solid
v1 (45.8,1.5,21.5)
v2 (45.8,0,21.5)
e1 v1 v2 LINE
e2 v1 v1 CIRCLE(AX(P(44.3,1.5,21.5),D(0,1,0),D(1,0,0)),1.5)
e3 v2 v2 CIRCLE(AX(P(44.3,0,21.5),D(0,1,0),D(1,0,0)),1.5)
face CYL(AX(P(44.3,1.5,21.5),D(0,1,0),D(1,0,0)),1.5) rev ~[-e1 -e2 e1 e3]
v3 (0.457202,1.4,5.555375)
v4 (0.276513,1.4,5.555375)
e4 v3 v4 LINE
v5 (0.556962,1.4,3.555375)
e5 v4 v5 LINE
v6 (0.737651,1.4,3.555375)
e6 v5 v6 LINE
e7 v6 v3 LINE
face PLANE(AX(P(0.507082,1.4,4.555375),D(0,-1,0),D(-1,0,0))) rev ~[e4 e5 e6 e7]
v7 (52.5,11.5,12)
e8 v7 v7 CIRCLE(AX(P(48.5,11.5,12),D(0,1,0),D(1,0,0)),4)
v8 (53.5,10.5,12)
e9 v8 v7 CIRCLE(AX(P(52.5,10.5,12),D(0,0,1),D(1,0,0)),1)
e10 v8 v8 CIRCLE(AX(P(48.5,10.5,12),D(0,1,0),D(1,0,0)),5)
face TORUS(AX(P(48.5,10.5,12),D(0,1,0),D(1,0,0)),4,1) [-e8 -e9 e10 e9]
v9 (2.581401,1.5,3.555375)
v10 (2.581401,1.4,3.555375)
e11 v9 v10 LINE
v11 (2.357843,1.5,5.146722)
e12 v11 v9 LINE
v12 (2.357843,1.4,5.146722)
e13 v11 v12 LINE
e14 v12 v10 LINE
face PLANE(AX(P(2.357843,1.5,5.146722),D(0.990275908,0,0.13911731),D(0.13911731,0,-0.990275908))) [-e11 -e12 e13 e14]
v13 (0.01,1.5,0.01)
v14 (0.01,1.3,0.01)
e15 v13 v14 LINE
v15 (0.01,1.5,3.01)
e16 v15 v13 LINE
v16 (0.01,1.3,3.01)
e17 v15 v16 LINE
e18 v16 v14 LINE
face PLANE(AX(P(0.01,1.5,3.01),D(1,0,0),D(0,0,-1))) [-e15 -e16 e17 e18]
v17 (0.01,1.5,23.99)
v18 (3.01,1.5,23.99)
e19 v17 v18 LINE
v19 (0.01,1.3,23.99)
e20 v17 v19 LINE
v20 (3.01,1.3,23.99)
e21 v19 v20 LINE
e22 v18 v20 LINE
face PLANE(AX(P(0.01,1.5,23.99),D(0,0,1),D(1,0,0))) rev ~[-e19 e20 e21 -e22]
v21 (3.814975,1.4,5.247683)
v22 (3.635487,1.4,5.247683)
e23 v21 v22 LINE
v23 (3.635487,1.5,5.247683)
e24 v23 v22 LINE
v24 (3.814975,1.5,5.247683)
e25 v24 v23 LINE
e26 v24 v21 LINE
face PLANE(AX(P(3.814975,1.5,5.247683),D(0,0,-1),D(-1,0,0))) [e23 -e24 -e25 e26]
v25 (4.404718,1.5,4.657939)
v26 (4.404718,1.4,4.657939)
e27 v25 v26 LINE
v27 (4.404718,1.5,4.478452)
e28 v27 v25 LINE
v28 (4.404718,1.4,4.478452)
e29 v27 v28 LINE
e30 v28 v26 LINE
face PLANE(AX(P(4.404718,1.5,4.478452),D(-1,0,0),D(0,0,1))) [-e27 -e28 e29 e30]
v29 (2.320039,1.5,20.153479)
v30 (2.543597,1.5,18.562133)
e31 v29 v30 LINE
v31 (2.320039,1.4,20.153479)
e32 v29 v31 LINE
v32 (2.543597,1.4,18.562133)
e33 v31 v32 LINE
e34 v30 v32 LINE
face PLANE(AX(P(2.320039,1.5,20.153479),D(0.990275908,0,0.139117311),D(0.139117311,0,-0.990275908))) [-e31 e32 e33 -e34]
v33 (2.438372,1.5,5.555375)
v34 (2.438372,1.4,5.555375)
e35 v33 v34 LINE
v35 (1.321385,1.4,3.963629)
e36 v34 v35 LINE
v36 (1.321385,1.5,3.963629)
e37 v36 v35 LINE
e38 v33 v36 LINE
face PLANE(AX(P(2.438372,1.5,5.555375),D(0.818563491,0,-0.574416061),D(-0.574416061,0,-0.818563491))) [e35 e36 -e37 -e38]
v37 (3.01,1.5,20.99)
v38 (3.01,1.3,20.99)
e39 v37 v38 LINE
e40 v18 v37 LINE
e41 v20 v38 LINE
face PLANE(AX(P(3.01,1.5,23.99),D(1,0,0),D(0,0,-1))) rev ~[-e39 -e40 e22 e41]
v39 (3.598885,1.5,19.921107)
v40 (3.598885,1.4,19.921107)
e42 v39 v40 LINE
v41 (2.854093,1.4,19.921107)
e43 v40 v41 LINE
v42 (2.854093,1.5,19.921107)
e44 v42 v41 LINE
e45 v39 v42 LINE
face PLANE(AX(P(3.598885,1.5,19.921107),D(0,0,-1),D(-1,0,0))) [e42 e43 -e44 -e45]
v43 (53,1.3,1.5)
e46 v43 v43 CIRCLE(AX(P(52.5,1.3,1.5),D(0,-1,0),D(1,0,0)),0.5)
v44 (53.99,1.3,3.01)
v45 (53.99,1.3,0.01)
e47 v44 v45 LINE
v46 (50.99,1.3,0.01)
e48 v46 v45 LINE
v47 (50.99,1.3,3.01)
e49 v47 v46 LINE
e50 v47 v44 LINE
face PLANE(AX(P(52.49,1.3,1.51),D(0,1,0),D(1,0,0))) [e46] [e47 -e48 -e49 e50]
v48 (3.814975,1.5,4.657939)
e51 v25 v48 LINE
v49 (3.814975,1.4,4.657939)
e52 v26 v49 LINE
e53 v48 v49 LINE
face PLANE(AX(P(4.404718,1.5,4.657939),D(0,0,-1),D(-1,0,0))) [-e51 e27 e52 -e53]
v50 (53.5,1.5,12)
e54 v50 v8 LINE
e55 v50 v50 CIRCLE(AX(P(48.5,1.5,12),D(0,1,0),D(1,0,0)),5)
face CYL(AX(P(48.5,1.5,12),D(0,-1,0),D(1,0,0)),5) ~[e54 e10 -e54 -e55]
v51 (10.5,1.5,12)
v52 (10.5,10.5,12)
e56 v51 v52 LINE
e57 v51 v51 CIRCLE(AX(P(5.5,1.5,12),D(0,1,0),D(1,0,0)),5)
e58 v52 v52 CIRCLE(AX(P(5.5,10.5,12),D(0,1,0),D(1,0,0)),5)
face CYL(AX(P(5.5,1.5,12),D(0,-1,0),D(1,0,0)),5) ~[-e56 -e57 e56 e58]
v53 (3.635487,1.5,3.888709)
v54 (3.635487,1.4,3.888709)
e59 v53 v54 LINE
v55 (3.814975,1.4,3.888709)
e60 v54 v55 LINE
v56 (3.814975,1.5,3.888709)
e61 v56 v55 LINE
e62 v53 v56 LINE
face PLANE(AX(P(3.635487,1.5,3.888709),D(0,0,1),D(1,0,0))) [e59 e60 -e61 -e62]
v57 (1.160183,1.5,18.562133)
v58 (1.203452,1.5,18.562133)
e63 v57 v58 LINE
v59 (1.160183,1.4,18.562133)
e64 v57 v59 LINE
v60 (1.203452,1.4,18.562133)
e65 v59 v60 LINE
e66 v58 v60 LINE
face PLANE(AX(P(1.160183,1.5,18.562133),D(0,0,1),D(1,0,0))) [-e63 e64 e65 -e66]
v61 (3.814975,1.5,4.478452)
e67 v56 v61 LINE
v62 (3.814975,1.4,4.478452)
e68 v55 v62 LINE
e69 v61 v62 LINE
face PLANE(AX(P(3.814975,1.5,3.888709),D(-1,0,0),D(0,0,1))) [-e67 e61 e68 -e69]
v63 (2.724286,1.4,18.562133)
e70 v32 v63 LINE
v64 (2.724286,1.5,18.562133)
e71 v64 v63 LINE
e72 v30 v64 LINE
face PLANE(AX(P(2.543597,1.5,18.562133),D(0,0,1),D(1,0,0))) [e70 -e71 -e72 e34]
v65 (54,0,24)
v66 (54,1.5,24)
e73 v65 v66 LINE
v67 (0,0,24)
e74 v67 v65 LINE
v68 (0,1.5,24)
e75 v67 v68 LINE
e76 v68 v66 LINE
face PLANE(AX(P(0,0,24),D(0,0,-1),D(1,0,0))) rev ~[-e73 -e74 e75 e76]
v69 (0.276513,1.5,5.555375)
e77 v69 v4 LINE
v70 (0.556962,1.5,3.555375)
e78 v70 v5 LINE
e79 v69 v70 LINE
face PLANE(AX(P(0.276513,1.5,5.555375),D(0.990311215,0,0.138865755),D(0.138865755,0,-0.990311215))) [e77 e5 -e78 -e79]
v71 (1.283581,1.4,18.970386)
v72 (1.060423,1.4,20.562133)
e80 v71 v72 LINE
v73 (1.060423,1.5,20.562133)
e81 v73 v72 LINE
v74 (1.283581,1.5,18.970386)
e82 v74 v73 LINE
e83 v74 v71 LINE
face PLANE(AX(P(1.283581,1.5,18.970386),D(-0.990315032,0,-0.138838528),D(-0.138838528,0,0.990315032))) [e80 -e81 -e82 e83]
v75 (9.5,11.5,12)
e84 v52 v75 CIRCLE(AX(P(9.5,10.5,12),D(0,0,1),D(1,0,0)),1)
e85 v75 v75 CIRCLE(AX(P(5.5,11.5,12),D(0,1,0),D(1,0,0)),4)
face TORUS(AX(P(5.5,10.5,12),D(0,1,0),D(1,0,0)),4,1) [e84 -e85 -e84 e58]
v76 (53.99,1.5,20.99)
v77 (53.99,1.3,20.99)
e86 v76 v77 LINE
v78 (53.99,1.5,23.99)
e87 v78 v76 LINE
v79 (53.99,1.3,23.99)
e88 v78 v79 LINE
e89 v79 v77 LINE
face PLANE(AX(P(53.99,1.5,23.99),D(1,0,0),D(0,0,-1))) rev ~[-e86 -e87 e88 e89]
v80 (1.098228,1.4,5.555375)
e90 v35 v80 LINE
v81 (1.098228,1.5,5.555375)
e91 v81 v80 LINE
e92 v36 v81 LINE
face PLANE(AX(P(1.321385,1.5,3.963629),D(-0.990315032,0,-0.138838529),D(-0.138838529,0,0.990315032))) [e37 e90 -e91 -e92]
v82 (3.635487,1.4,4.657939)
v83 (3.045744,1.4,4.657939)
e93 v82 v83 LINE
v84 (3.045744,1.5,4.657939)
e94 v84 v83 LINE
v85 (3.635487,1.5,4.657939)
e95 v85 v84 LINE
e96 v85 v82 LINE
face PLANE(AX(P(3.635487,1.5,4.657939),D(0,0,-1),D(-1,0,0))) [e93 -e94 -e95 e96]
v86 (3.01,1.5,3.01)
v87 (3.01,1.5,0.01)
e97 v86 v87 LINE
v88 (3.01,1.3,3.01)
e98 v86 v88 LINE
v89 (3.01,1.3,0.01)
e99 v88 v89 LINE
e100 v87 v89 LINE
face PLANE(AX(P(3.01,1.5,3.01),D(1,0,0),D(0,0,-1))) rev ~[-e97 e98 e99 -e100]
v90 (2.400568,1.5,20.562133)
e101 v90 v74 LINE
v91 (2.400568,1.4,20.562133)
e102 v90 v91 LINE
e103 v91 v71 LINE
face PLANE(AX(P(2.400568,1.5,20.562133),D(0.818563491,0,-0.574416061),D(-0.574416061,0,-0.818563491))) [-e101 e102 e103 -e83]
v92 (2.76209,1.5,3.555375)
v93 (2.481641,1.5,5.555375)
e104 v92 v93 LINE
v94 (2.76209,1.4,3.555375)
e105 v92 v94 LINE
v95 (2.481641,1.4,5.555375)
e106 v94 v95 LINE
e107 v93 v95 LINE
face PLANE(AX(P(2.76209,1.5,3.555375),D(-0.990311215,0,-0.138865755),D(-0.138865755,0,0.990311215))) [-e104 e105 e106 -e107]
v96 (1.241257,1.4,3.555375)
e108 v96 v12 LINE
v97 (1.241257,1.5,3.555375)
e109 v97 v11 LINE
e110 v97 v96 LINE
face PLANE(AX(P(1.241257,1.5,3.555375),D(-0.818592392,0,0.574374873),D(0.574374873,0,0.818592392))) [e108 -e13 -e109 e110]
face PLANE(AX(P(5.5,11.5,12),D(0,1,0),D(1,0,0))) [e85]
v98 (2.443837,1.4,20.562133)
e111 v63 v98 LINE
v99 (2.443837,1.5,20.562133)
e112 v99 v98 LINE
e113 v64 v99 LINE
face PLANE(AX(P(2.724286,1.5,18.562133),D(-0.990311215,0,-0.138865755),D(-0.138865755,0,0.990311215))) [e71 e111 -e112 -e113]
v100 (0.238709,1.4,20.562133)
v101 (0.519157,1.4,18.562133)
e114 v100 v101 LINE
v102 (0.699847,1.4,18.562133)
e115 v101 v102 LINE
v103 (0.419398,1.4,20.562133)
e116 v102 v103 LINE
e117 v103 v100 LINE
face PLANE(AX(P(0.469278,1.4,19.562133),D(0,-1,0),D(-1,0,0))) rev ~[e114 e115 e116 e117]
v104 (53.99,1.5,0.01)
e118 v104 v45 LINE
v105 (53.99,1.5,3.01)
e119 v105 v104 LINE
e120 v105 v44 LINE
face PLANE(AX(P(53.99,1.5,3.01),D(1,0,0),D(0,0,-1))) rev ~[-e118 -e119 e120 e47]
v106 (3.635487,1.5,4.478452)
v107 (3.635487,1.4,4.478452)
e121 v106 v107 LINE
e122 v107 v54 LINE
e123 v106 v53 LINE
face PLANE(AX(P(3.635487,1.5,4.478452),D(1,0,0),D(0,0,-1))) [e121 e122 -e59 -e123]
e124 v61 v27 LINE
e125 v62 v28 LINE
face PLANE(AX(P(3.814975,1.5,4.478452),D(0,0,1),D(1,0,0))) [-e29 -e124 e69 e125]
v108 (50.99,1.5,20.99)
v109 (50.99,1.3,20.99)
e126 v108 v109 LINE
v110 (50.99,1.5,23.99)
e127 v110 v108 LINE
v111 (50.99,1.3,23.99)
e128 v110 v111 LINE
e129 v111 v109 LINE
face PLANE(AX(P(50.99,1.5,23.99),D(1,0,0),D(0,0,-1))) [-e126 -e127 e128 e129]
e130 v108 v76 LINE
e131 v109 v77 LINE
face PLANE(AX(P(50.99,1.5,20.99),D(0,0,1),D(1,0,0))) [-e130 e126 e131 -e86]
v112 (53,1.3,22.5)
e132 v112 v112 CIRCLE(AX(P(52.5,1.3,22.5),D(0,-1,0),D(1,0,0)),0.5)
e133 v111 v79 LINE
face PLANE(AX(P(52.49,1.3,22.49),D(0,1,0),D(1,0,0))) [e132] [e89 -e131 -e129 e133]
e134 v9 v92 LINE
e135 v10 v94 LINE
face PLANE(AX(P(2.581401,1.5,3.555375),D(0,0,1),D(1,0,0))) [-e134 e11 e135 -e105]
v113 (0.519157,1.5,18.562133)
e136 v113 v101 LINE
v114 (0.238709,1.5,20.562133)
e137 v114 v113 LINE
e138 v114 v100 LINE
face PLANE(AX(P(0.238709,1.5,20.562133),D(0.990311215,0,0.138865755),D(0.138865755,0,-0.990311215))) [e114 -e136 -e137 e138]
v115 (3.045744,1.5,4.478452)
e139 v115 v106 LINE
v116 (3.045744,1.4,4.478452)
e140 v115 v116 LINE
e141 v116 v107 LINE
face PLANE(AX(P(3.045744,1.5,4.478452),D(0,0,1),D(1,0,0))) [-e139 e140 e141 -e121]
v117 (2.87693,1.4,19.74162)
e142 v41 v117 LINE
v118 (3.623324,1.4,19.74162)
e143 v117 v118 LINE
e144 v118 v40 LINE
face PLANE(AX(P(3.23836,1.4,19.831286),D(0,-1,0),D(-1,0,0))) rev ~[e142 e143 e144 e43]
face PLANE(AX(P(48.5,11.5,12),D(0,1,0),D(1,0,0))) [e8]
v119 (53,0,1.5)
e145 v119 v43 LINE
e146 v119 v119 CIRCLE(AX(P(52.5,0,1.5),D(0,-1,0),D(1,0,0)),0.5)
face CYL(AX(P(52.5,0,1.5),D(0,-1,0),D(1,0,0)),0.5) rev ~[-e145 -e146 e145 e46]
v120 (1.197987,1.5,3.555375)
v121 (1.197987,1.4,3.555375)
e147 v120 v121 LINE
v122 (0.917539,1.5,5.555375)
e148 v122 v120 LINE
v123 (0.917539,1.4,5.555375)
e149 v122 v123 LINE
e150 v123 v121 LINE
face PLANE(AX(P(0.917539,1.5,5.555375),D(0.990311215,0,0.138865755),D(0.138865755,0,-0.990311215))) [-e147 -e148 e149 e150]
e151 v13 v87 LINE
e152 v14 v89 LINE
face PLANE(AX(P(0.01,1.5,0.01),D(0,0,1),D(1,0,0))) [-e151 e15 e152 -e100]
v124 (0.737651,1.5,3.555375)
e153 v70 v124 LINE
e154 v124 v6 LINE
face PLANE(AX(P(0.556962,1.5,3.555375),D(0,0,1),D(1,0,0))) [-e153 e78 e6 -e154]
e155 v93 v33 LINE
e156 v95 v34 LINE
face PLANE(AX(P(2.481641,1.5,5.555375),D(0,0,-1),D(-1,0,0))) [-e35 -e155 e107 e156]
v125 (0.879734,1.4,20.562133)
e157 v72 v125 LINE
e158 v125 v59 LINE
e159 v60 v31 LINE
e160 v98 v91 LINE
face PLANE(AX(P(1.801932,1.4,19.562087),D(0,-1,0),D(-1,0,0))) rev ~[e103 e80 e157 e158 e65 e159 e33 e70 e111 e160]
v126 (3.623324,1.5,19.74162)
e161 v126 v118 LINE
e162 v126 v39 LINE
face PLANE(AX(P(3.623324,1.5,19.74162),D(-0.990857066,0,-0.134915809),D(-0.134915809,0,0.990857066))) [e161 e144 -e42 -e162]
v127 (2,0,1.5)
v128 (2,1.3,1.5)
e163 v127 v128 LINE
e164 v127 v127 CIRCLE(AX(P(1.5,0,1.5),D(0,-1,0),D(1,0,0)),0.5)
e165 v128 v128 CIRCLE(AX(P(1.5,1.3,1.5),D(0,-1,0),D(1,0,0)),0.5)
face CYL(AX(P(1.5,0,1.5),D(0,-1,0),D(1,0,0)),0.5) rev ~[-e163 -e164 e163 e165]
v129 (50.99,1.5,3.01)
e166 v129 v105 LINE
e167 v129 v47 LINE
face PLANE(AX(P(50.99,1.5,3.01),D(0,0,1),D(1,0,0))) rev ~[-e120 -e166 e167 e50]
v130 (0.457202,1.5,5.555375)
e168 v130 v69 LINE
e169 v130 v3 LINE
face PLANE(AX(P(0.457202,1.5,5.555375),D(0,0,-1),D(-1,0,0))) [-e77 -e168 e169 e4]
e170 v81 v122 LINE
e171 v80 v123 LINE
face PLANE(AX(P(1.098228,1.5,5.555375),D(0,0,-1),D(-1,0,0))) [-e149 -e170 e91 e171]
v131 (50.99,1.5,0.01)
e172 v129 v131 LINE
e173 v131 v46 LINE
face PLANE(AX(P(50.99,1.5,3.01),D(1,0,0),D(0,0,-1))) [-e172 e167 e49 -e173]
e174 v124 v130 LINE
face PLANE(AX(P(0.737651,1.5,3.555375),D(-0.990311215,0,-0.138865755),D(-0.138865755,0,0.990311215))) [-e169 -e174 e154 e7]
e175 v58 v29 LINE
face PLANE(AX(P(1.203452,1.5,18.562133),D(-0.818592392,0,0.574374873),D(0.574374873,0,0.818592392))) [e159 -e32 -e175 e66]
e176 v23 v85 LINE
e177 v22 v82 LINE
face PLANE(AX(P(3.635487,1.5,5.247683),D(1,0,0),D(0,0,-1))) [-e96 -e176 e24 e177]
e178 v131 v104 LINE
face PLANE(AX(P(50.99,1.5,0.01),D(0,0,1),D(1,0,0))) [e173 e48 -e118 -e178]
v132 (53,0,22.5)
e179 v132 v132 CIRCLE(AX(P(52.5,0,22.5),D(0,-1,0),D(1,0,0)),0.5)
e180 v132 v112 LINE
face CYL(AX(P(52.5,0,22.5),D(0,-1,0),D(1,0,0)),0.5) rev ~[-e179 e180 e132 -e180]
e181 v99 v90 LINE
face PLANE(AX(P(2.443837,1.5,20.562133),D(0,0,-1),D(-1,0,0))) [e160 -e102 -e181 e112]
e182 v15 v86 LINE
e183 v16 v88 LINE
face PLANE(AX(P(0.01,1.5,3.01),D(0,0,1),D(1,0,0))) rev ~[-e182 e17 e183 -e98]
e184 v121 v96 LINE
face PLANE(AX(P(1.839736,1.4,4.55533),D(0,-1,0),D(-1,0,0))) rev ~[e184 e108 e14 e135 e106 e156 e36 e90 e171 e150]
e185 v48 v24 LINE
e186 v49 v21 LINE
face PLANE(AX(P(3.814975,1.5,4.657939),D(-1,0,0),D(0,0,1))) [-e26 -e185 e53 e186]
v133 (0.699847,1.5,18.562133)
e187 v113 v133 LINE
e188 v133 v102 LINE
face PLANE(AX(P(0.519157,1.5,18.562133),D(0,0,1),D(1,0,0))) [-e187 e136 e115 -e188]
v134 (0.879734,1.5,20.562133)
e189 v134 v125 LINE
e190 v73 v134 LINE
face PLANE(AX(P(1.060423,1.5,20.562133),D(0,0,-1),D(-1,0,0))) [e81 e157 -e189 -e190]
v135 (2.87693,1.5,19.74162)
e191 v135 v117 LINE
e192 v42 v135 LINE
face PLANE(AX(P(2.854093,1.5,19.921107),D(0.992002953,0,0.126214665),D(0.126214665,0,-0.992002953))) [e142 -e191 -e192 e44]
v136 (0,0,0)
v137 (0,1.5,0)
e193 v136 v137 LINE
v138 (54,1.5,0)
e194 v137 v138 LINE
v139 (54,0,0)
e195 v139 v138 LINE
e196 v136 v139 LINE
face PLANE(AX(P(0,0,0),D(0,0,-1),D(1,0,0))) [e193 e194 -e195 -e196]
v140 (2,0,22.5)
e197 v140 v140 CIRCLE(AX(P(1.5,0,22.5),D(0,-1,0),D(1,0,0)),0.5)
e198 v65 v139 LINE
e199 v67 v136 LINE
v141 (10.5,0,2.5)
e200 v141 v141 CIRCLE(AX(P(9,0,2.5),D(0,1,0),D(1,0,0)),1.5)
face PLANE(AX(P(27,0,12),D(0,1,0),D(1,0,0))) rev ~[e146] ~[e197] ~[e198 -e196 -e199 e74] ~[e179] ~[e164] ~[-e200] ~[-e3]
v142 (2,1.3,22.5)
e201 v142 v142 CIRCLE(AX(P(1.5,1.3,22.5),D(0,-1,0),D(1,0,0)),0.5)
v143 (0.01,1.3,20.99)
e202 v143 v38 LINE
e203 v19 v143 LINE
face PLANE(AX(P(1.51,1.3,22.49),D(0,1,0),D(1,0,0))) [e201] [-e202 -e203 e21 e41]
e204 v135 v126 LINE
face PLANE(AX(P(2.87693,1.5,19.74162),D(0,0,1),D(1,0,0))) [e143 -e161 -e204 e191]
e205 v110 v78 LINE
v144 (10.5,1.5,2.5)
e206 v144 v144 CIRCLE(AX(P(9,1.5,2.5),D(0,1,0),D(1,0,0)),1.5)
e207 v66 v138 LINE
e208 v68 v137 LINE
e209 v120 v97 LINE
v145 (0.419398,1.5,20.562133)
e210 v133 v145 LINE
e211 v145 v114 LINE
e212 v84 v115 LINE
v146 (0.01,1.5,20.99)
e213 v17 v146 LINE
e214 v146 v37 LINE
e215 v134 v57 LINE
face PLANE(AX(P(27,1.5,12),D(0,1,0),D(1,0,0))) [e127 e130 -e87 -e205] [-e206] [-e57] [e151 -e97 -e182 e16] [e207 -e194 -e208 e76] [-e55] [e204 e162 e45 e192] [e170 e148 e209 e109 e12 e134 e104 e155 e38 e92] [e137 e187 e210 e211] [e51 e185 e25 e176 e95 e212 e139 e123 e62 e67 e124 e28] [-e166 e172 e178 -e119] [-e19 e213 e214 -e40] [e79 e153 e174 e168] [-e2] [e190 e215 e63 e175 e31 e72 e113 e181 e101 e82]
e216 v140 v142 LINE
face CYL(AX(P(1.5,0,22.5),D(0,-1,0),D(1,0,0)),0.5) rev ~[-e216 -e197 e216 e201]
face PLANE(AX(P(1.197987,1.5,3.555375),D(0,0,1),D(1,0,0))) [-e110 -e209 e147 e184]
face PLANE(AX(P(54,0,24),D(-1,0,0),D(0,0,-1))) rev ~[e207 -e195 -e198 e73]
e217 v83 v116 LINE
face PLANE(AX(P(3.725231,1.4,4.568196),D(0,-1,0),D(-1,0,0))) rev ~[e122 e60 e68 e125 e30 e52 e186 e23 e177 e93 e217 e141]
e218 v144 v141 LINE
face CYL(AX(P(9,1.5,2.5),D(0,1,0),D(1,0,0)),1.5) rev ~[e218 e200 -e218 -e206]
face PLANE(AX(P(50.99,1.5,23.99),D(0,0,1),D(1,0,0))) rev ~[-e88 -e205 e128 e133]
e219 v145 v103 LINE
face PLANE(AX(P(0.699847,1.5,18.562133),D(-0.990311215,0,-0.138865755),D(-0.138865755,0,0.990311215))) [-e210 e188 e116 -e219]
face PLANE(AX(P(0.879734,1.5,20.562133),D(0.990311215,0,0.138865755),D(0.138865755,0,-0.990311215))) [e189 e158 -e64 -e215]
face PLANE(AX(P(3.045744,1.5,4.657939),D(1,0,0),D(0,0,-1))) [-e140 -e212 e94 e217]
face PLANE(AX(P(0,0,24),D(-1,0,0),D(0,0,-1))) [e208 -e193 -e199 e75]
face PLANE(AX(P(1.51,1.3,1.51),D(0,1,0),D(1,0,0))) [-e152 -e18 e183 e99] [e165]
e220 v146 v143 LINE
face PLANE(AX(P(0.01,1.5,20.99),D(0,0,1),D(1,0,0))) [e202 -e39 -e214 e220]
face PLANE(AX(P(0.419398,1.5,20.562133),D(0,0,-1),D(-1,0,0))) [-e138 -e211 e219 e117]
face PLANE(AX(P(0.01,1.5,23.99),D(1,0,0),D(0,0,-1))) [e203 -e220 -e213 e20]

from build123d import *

# Parameters (mm, degrees)
SKETCH1_W           = 54
SKETCH1_H           = 24
BOSS_EXTRUDE1_DEPTH = 1.5
CUT_EXTRUDE1_REACH  = 3.5
SKETCH2_R           = 1.5
SKETCH4_W           = 3
SKETCH4_H           = 3
CUT_EXTRUDE2_DEPTH  = 0.2
CUT_EXTRUDE3_REACH  = 3.5
SKETCH5_R           = 0.5
CUT_EXTRUDE4_DEPTH  = 0.1
CUT_EXTRUDE5_DEPTH  = 0.1
SKETCH10_R          = 5
BOSS_EXTRUDE2_DEPTH = 10
FILLET1_R           = 1


with BuildPart() as part:
    # Sketch1 → Boss-Extrude1 (new body)
    with BuildSketch(Plane(origin=(0, 0, 0), x_dir=(1, 0, 0), z_dir=(0, 1, 0))):
        with Locations((27, -12)):
            Rectangle(SKETCH1_W, SKETCH1_H)
    extrude(amount=BOSS_EXTRUDE1_DEPTH)

    # Sketch2 → Cut-Extrude1 (cut, up to next)
    with BuildSketch(Plane(origin=(0, 1.5, 0), x_dir=(1, 0, 0), z_dir=(0, 1, 0)), mode=Mode.PRIVATE) as cut_extrude1_sk1:
        with Locations((9, -2.5)):
            Circle(SKETCH2_R)
    cut_extrude1_tool1 = extrude(cut_extrude1_sk1.sketch, amount=-CUT_EXTRUDE1_REACH, mode=Mode.PRIVATE) & part.part
    add(cut_extrude1_tool1.solids().sort_by_distance((9, 1.5, 2.5))[0], mode=Mode.SUBTRACT)
    # Sketch2 → Cut-Extrude1 (cut, up to next)
    with BuildSketch(Plane(origin=(0, 1.5, 0), x_dir=(1, 0, 0), z_dir=(0, 1, 0)), mode=Mode.PRIVATE) as cut_extrude1_sk2:
        with Locations((44.3, -21.5)):
            Circle(SKETCH2_R)
    cut_extrude1_tool2 = extrude(cut_extrude1_sk2.sketch, amount=-CUT_EXTRUDE1_REACH, mode=Mode.PRIVATE) & part.part
    add(cut_extrude1_tool2.solids().sort_by_distance((44.3, 1.5, 21.5))[0], mode=Mode.SUBTRACT)

    # Sketch4 → Cut-Extrude2 (cut)
    with BuildSketch(Plane(origin=(0, 1.5, 0), x_dir=(1, 0, 0), z_dir=(0, 1, 0))):
        with Locations((1.51, -1.51)):
            Rectangle(SKETCH4_W, SKETCH4_H)
        with Locations((52.49, -1.51)):
            Rectangle(SKETCH4_W, SKETCH4_H)
        with Locations((1.51, -22.49)):
            Rectangle(SKETCH4_W, SKETCH4_H)
        with Locations((52.49, -22.49)):
            Rectangle(SKETCH4_W, SKETCH4_H)
    extrude(amount=-CUT_EXTRUDE2_DEPTH, mode=Mode.SUBTRACT)

    # Sketch5 → Cut-Extrude3 (cut, up to next)
    with BuildSketch(Plane.XZ, mode=Mode.PRIVATE) as cut_extrude3_sk1:
        with Locations((52.5, 1.5)):
            Circle(SKETCH5_R)
    cut_extrude3_tool1 = extrude(cut_extrude3_sk1.sketch, amount=-CUT_EXTRUDE3_REACH, mode=Mode.PRIVATE) & part.part
    add(cut_extrude3_tool1.solids().sort_by_distance((52.5, 0, 1.5))[0], mode=Mode.SUBTRACT)
    # Sketch5 → Cut-Extrude3 (cut, up to next)
    with BuildSketch(Plane.XZ, mode=Mode.PRIVATE) as cut_extrude3_sk2:
        with Locations((52.5, 22.5)):
            Circle(SKETCH5_R)
    cut_extrude3_tool2 = extrude(cut_extrude3_sk2.sketch, amount=-CUT_EXTRUDE3_REACH, mode=Mode.PRIVATE) & part.part
    add(cut_extrude3_tool2.solids().sort_by_distance((52.5, 0, 22.5))[0], mode=Mode.SUBTRACT)
    # Sketch5 → Cut-Extrude3 (cut, up to next)
    with BuildSketch(Plane.XZ, mode=Mode.PRIVATE) as cut_extrude3_sk3:
        with Locations((1.5, 1.5)):
            Circle(SKETCH5_R)
    cut_extrude3_tool3 = extrude(cut_extrude3_sk3.sketch, amount=-CUT_EXTRUDE3_REACH, mode=Mode.PRIVATE) & part.part
    add(cut_extrude3_tool3.solids().sort_by_distance((1.5, 0, 1.5))[0], mode=Mode.SUBTRACT)
    # Sketch5 → Cut-Extrude3 (cut, up to next)
    with BuildSketch(Plane.XZ, mode=Mode.PRIVATE) as cut_extrude3_sk4:
        with Locations((1.5, 22.5)):
            Circle(SKETCH5_R)
    cut_extrude3_tool4 = extrude(cut_extrude3_sk4.sketch, amount=-CUT_EXTRUDE3_REACH, mode=Mode.PRIVATE) & part.part
    add(cut_extrude3_tool4.solids().sort_by_distance((1.5, 0, 22.5))[0], mode=Mode.SUBTRACT)

    # Sketch8 → Cut-Extrude4 (cut)
    with BuildSketch(Plane(origin=(0, 1.5, 0), x_dir=(1, 0, 0), z_dir=(0, 1, 0))):
        Polygon((0.556961838, -3.555375385), (0.73765094, -3.555375385), (0.457202222, -5.555375385), (0.27651312, -5.555375385), align=None)
        Polygon((2.58140094, -3.555375385), (2.762090043, -3.555375385), (2.481641325, -5.555375385), (2.438372094, -5.555375385), (1.321384915, -3.96362859), (1.098227863, -5.555375385), (0.917538761, -5.555375385), (1.197987479, -3.555375385), (1.24125671, -3.555375385), (2.357843248, -5.146721539), align=None)
        Polygon((3.635487479, -4.478452308), (3.635487479, -3.888708718), (3.814974658, -3.888708718), (3.814974658, -4.478452308), (4.404718248, -4.478452308), (4.404718248, -4.657939488), (3.814974658, -4.657939488), (3.814974658, -5.247683077), (3.635487479, -5.247683077), (3.635487479, -4.657939488), (3.045743889, -4.657939488), (3.045743889, -4.478452308), align=None)
    extrude(amount=-CUT_EXTRUDE4_DEPTH, mode=Mode.SUBTRACT)

    # Sketch9 → Cut-Extrude5 (cut)
    with BuildSketch(Plane(origin=(0, 1.5, 0), x_dir=(1, 0, 0), z_dir=(0, 1, 0))):
        Polygon((0.519157464, -18.562132586), (0.699846567, -18.562132586), (0.419397849, -20.562132586), (0.238708746, -20.562132586), align=None)
        Polygon((2.543596567, -18.562132586), (2.724285669, -18.562132586), (2.443836951, -20.562132586), (2.40056772, -20.562132586), (1.283580541, -18.970385792), (1.06042349, -20.562132586), (0.879734387, -20.562132586), (1.160183105, -18.562132586), (1.203452336, -18.562132586), (2.320038874, -20.15347874), align=None)
        Polygon((2.8769299, -19.741619766), (3.623324131, -19.741619766), (3.598885028, -19.921106945), (2.854093361, -19.921106945), align=None)
    extrude(amount=-CUT_EXTRUDE5_DEPTH, mode=Mode.SUBTRACT)

    # Sketch10 → Boss-Extrude2 (add)
    with BuildSketch(Plane(origin=(0, 1.5, 0), x_dir=(1, 0, 0), z_dir=(0, 1, 0))):
        with Locations((5.5, -12)):
            Circle(SKETCH10_R)
        with Locations((48.5, -12)):
            Circle(SKETCH10_R)
    extrude(amount=BOSS_EXTRUDE2_DEPTH)

    # Fillet1
    fillet1_edges = [part.edges().sort_by_distance(p)[0] for p in [
        (0.5, 11.5, 12),
        (43.5, 11.5, 12),
    ]]
    fillet(fillet1_edges, radius=FILLET1_R)


solid = part.part
